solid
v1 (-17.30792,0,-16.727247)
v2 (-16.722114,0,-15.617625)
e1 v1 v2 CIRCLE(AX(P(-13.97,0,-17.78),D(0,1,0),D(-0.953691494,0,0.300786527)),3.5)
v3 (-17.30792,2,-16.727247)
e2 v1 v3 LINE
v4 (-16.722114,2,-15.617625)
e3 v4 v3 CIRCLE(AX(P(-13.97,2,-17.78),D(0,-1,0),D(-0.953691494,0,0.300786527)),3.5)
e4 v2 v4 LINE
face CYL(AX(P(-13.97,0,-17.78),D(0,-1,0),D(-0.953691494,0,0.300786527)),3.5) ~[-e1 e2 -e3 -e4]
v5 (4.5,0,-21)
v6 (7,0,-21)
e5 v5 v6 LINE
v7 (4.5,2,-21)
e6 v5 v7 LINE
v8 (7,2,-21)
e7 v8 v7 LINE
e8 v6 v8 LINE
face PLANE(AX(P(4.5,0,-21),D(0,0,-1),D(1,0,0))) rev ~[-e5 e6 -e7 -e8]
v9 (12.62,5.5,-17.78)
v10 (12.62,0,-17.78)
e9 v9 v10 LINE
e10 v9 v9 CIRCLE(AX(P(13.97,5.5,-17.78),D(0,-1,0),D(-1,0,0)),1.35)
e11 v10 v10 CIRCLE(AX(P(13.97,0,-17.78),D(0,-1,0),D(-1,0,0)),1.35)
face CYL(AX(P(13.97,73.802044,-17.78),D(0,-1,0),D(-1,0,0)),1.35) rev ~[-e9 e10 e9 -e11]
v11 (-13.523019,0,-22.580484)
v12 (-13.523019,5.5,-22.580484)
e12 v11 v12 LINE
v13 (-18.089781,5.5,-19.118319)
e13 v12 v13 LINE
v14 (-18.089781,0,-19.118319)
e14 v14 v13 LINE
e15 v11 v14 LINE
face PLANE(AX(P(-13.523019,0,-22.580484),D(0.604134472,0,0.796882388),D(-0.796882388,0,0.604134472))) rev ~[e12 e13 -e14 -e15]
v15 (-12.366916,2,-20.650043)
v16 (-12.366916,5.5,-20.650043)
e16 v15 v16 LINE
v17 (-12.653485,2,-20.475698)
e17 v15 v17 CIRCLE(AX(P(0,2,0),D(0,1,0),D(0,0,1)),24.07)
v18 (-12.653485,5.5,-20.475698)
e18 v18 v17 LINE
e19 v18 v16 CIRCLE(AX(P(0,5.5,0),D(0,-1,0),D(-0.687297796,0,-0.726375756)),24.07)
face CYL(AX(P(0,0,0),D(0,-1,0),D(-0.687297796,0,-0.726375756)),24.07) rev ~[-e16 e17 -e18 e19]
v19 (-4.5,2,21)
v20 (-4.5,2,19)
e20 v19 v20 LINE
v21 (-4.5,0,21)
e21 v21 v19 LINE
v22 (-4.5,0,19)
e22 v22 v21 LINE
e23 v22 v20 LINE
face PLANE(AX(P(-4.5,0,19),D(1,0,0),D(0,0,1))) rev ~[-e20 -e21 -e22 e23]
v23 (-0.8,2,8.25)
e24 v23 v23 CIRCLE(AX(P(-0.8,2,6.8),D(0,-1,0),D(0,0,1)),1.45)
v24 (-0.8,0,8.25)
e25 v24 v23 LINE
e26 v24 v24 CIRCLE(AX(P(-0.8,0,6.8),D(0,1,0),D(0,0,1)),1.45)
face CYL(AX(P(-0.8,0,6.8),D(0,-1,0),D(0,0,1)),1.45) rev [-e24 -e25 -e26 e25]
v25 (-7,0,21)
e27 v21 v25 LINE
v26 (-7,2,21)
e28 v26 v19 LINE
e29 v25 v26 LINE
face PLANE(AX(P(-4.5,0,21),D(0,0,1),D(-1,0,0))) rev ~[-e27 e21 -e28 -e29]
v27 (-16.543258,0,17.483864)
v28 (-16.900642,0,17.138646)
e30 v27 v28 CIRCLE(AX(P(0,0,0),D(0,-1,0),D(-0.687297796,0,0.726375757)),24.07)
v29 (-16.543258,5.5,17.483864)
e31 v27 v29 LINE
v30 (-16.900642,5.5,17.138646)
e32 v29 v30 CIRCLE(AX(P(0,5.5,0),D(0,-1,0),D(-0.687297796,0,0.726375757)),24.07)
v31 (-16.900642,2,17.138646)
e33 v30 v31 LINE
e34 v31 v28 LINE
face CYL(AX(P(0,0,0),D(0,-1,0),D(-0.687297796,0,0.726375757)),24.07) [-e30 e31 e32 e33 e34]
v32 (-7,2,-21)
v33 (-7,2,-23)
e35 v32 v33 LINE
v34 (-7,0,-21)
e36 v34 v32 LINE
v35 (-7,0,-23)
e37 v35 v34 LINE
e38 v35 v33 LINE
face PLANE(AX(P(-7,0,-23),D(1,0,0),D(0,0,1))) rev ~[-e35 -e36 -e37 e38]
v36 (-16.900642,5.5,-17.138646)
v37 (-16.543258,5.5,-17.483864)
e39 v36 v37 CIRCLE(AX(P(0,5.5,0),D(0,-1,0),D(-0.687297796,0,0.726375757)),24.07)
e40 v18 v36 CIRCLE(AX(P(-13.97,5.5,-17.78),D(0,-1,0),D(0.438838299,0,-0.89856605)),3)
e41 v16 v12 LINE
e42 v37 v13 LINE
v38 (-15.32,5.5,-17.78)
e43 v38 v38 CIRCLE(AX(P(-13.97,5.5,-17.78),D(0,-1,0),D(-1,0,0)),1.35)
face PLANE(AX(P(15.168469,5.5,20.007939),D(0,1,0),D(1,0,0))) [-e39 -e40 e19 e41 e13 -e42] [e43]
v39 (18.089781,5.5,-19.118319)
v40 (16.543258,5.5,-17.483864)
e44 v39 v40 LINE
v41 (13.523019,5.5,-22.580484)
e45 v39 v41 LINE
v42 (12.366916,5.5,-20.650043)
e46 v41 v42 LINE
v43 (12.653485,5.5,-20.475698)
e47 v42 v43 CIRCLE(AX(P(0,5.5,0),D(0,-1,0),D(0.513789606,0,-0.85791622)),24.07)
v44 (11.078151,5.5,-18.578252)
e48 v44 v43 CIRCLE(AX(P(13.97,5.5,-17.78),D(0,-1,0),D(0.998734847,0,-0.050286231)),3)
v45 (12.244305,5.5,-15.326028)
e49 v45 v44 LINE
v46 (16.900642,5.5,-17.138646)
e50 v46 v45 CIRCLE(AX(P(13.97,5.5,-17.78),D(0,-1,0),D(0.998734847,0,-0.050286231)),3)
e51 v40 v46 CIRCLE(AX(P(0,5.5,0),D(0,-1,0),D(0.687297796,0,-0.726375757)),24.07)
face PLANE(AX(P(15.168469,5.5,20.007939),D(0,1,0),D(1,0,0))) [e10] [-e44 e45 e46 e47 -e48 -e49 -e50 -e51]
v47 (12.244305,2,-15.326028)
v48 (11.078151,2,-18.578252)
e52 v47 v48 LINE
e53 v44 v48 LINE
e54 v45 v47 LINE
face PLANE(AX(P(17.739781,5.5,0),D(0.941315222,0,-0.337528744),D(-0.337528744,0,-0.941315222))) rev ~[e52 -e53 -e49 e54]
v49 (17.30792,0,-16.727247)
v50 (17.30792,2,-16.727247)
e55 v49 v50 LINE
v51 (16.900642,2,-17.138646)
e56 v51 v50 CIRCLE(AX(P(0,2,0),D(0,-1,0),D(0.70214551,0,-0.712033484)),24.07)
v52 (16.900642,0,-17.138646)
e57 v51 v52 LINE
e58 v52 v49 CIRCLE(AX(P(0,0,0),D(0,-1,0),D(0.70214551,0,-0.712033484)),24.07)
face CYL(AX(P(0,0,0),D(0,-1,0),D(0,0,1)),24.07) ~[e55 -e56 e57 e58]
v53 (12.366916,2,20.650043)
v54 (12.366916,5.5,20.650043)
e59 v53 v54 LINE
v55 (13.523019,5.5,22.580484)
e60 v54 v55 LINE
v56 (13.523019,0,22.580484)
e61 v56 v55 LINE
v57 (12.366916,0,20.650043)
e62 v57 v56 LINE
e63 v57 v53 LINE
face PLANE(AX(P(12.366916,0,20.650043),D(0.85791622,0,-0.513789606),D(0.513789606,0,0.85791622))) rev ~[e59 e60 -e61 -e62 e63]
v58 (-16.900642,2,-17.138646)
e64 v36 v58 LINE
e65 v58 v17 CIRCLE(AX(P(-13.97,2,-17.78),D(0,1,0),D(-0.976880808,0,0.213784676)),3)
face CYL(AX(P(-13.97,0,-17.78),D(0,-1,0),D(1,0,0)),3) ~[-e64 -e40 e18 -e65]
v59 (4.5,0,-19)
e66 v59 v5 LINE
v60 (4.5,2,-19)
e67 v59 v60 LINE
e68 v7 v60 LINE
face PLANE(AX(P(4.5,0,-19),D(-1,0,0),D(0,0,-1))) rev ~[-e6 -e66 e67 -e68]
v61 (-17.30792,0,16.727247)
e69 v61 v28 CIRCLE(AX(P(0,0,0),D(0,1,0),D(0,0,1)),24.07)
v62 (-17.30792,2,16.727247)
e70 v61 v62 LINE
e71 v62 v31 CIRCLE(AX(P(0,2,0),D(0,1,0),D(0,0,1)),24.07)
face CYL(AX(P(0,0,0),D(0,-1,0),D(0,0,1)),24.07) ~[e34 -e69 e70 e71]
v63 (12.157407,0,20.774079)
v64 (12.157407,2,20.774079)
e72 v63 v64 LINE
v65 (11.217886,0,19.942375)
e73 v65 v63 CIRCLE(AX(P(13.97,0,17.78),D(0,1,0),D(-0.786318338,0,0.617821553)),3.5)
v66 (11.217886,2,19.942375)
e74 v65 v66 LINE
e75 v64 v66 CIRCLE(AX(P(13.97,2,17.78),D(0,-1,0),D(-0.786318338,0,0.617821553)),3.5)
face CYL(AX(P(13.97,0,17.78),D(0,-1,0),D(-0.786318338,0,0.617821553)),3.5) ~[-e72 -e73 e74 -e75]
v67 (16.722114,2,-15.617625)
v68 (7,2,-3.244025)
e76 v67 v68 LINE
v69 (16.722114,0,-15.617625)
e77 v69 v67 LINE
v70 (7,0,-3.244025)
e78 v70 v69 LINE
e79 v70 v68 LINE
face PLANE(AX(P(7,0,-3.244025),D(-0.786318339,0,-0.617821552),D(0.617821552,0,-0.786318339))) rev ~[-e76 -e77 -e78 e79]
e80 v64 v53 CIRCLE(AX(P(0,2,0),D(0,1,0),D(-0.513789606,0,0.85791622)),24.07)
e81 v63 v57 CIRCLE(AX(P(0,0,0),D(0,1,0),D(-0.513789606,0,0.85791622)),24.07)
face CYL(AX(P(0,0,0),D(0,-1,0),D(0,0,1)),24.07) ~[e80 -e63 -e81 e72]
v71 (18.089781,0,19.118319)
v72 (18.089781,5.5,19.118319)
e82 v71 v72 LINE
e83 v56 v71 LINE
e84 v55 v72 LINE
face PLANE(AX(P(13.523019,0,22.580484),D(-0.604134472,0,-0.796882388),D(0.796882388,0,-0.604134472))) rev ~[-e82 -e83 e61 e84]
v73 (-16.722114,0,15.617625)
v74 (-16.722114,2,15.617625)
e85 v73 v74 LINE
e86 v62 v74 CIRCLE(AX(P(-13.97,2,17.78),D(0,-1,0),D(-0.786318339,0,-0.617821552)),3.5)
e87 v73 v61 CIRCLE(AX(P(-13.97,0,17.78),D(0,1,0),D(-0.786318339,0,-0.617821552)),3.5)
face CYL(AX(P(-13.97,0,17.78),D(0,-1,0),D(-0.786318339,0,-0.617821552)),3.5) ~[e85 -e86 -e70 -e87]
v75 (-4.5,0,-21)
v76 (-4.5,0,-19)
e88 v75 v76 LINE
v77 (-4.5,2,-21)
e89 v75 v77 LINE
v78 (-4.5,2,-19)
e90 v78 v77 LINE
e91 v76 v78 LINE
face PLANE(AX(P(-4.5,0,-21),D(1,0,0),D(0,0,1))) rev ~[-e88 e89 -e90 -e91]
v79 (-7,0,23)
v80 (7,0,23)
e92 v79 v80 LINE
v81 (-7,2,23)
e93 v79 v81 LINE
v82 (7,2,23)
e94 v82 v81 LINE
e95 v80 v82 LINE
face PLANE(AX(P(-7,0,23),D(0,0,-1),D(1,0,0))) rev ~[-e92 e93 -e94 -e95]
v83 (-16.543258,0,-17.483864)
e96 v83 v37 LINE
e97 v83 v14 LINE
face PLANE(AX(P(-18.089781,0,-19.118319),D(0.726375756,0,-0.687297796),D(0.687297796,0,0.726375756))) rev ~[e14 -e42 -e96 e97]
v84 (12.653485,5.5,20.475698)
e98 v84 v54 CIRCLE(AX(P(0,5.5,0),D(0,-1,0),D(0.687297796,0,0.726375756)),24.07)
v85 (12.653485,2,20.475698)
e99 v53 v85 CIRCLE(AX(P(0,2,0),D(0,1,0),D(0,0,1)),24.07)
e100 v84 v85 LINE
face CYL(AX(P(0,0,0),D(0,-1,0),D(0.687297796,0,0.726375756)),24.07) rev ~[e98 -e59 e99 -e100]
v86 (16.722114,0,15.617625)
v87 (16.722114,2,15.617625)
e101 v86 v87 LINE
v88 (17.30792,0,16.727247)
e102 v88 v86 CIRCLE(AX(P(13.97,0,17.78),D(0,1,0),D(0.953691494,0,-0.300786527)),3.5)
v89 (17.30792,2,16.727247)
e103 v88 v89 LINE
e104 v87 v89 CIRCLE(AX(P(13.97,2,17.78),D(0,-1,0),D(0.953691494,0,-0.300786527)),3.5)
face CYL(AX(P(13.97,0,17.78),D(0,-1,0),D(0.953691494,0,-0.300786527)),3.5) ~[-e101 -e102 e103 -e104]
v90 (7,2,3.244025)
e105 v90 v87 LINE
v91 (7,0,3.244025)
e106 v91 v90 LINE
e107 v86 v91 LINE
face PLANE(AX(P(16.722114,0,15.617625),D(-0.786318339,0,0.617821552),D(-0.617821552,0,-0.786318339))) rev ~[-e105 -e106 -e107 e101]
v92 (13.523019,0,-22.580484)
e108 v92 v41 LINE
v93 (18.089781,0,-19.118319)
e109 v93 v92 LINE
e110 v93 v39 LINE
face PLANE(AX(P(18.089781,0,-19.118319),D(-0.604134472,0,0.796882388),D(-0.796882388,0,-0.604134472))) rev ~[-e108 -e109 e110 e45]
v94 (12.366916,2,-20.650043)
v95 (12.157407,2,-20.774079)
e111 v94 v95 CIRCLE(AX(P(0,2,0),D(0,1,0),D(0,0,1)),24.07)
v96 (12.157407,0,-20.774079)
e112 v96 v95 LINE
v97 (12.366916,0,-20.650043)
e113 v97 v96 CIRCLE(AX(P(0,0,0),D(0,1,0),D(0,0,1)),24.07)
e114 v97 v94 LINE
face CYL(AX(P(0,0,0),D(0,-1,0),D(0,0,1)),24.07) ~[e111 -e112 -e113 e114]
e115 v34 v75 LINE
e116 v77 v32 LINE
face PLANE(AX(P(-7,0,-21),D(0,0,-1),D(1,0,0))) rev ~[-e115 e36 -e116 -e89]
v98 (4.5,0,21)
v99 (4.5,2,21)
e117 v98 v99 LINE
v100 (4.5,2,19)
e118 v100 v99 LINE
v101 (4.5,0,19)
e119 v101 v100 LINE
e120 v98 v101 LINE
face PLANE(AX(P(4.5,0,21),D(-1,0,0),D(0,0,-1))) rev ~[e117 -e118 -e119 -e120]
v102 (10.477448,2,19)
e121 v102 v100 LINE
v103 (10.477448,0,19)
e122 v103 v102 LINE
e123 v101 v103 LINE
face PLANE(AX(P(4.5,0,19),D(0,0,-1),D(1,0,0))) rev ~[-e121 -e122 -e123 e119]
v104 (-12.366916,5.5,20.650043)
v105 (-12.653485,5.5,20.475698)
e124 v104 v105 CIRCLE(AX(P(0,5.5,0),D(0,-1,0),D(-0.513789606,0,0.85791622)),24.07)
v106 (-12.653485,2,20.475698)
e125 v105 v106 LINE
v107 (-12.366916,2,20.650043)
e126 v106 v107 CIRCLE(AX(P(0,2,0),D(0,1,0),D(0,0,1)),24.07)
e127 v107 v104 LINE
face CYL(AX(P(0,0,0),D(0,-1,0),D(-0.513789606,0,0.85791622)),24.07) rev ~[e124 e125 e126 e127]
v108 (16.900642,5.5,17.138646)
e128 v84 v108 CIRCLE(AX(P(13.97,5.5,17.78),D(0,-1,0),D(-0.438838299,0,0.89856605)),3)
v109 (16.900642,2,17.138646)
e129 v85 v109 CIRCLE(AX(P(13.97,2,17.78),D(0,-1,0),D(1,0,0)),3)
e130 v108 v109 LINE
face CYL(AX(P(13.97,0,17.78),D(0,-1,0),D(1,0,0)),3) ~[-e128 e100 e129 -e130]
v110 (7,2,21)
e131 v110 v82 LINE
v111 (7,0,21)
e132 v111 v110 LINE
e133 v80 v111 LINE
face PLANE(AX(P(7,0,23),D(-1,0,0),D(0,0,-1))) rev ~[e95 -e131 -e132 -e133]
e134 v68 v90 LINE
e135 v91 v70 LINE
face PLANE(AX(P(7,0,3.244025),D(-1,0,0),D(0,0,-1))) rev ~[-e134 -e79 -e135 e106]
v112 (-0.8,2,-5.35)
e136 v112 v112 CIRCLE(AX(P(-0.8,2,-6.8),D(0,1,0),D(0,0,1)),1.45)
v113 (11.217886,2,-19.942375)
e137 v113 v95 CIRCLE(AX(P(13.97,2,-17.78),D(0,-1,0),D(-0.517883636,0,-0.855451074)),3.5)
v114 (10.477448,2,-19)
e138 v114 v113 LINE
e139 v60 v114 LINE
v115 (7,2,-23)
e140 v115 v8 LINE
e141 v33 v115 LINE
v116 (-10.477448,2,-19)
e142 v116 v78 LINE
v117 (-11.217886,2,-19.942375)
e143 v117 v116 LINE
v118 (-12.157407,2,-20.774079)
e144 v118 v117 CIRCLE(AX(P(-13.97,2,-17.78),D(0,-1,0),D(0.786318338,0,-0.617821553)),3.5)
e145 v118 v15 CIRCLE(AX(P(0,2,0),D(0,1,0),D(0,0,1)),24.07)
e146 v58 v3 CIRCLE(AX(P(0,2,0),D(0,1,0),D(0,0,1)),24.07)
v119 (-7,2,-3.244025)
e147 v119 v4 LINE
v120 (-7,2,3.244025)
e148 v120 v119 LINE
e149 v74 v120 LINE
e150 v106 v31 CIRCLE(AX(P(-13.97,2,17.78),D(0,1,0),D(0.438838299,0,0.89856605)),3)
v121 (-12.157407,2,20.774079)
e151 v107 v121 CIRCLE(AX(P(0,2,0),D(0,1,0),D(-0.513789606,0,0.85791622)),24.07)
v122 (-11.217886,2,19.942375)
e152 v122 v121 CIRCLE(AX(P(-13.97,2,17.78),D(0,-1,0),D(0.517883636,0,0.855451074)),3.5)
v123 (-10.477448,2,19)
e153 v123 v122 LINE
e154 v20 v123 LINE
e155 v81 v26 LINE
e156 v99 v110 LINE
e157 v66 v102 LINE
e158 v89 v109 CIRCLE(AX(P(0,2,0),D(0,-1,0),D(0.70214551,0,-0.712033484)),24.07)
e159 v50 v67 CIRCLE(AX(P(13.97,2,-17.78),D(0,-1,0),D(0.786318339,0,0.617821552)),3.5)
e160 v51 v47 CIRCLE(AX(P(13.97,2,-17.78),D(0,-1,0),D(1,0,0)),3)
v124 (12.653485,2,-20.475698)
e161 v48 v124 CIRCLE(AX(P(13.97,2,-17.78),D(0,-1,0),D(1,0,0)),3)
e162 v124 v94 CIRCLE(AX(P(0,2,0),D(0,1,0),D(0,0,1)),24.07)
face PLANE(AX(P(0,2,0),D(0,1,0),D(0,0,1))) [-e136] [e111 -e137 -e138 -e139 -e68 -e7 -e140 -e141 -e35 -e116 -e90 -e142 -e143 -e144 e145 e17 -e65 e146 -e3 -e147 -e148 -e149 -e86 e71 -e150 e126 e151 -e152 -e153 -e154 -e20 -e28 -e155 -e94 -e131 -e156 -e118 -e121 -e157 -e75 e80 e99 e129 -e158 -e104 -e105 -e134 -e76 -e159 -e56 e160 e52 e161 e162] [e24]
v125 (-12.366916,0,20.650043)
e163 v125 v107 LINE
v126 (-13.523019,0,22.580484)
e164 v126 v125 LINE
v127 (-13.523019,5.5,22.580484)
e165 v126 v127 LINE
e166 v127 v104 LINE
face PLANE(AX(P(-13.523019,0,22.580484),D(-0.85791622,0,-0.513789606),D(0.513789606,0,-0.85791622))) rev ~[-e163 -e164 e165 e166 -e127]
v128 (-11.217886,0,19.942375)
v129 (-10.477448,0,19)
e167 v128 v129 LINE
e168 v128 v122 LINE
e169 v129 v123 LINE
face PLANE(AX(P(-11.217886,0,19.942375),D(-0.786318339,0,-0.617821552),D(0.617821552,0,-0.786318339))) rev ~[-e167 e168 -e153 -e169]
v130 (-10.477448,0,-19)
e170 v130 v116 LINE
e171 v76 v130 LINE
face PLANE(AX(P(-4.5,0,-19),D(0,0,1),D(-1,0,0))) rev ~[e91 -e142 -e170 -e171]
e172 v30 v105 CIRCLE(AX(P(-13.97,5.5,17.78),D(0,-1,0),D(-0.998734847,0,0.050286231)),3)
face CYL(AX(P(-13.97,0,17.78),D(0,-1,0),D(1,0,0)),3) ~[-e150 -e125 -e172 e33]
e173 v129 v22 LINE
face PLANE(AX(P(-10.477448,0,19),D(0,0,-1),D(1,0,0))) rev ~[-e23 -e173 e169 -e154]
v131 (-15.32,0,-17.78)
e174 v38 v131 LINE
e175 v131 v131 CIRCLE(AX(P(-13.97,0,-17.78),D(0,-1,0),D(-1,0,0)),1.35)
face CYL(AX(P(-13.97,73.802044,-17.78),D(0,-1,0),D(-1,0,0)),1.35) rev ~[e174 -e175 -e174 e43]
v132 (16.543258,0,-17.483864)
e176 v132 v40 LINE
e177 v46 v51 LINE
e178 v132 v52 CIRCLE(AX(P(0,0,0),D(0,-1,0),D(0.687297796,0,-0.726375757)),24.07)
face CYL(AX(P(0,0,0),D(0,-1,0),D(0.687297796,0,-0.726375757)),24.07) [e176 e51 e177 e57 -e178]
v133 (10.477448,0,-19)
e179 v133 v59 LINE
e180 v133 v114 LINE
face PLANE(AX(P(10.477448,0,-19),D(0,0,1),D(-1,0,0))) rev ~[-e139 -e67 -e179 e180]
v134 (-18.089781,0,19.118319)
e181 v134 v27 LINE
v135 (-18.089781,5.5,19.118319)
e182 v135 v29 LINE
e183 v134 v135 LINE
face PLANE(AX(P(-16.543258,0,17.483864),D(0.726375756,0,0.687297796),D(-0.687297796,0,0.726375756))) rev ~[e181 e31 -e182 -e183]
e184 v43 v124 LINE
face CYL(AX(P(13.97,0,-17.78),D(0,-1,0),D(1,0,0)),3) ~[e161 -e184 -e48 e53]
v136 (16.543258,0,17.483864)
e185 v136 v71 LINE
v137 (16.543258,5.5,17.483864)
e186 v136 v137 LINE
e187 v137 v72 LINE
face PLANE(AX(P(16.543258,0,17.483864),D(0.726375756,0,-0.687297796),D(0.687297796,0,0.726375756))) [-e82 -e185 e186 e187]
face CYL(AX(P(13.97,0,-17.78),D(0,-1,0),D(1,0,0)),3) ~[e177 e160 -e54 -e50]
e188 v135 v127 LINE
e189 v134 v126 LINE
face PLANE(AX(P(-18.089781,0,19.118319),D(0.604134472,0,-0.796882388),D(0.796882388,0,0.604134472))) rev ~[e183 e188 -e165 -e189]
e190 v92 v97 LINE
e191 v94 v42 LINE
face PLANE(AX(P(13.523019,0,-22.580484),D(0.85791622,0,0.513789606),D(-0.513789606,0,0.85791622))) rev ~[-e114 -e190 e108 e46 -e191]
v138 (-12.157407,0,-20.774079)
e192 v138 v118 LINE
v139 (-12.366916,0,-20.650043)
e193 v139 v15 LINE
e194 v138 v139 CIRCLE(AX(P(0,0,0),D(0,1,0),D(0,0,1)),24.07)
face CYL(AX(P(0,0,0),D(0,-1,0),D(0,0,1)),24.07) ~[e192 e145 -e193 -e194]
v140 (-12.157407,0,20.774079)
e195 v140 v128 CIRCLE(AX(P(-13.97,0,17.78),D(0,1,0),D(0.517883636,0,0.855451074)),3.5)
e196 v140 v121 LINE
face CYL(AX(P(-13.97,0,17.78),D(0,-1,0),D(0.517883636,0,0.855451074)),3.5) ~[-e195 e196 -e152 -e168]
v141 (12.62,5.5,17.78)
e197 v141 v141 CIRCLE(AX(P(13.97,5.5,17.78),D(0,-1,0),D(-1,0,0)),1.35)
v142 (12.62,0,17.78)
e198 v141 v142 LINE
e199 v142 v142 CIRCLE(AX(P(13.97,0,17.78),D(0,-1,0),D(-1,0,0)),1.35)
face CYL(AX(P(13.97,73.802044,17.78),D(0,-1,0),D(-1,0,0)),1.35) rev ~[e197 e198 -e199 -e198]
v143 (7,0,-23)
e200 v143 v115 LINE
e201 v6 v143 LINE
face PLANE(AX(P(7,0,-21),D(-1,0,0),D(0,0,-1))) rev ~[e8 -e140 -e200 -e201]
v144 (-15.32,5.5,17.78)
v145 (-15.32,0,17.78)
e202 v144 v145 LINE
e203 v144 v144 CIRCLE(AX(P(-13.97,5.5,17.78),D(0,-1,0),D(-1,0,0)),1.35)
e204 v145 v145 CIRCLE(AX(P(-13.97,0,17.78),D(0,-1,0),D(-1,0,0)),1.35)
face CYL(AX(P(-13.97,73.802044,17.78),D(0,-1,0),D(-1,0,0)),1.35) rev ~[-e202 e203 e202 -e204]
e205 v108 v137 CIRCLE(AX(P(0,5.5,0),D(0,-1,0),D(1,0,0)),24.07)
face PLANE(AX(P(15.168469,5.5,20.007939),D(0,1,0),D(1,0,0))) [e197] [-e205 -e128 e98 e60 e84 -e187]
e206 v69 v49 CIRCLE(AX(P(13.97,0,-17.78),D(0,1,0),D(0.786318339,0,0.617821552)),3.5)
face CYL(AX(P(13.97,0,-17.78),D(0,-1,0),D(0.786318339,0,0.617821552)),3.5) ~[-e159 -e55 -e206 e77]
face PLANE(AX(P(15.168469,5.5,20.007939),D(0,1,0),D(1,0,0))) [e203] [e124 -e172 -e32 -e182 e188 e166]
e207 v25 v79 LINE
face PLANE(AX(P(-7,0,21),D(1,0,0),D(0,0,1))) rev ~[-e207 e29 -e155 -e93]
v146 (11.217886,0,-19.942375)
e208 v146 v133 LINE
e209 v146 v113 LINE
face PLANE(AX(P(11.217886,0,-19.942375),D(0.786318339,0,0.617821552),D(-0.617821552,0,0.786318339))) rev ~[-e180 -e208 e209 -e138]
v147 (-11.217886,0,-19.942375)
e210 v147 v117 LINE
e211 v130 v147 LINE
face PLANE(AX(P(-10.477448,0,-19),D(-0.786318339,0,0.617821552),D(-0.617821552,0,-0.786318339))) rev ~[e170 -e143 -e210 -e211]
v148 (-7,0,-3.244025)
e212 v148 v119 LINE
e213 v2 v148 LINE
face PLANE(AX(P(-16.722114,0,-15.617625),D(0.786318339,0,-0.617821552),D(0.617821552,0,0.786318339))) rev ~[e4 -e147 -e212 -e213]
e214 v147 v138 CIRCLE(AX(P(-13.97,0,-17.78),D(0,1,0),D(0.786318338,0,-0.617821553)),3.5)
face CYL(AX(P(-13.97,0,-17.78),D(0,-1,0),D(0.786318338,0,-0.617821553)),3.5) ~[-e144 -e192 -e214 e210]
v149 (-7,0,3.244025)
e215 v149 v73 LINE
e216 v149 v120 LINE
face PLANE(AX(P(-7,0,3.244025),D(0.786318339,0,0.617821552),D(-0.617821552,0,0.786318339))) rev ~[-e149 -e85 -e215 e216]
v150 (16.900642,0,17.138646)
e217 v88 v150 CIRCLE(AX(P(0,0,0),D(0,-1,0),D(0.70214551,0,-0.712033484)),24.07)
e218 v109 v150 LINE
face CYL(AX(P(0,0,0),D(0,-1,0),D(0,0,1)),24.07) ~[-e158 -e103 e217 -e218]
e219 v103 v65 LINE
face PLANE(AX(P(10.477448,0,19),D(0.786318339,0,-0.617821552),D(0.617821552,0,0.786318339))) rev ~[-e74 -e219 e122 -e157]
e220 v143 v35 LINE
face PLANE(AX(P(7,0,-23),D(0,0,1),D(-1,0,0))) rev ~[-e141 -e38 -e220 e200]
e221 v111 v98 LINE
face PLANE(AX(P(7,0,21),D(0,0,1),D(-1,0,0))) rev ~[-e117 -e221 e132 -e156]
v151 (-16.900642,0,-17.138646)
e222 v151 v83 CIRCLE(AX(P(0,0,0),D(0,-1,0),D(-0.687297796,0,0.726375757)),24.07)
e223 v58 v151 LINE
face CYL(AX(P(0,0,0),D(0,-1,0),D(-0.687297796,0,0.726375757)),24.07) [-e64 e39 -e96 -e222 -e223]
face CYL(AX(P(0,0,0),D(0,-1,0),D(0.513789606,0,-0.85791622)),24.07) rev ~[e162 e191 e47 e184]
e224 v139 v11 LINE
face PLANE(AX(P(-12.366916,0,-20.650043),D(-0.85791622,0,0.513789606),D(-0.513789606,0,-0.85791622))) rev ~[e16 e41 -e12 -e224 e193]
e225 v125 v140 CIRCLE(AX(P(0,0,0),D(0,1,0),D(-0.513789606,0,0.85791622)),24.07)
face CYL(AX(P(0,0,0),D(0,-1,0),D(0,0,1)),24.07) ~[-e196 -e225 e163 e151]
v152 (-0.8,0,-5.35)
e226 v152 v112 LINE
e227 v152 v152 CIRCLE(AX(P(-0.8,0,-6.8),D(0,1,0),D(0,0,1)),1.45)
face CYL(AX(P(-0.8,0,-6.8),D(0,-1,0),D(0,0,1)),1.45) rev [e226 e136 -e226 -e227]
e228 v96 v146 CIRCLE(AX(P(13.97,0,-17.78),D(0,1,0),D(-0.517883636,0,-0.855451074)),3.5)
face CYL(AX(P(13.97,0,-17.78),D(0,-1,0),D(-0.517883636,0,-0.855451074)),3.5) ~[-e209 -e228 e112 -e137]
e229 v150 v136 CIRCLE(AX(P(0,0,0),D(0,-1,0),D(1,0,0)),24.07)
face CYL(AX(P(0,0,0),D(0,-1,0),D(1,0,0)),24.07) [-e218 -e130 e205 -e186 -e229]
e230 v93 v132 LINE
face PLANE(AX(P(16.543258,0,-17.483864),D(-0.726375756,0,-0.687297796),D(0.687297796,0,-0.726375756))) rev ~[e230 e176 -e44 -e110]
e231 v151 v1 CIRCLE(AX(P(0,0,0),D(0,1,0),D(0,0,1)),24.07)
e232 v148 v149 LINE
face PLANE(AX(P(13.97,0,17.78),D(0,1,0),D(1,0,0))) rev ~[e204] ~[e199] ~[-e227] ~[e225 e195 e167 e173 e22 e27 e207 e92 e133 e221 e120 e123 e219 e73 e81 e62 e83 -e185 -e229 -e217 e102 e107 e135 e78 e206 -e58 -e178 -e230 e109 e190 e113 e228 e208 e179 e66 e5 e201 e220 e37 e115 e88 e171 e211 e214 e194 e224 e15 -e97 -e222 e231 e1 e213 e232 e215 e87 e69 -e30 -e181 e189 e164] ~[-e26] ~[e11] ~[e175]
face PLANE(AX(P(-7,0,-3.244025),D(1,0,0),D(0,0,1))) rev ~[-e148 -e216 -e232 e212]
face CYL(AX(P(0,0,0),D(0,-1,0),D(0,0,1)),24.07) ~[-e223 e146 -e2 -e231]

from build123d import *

# Parameters (mm, degrees)
SKETCH1_R               = 24.07
BOSS_EXTRUDE1_DEPTH     = 2
BOSS_EXTRUDE2_DEPTH     = 5.5
BOSS_EXTRUDE5_REACH     = 36.482
SKETCH2_R               = 3
SKETCH1_5_R             = 34.31362745
CUT_EXTRUDE3_DEPTH      = 35.48158639
CUT_EXTRUDE3_DEPTH_BACK = 35.48158639
M2_5_CLEARANCE_HOLE1_D  = 2.7
CUT_EXTRUDE4_DEPTH      = 35.48158639
SKETCH10_R              = 1.45
CUT_EXTRUDE6_DEPTH      = 30.773984948
CUT_EXTRUDE7_DEPTH      = 3.5


with BuildPart() as part:
    # Sketch1 → Boss-Extrude1 (new body)
    with BuildSketch(Plane(origin=(0, 0, 0), x_dir=(1, 0, 0), z_dir=(0, 1, 0))):
        with Locations(Location((0, 0, 0), (0, 0, 270))):
            Circle(SKETCH1_R)
    extrude(amount=BOSS_EXTRUDE1_DEPTH)

    # Sketch1<3> → Boss-Extrude2 (add)
    with BuildSketch(Plane(origin=(0, 0, 0), x_dir=(1, 0, 0), z_dir=(0, 1, 0))):
        with BuildLine():
            ThreePointArc((12.366915807, 20.650043424), (14.541516735, 19.180959075), (16.543257949, 17.483864459))
            Line((16.543257949, 17.483864459), (18.089781085, 19.118318867))
            Line((18.089781085, 19.118318867), (13.523019488, 22.580483607))
            Line((13.523019488, 22.580483607), (12.366915807, 20.650043424))
        make_face()
        with BuildLine():
            ThreePointArc((16.543257949, -17.483864459), (14.541516735, -19.180959075), (12.366915807, -20.650043424))
            Line((12.366915807, -20.650043424), (13.523019488, -22.580483607))
            Line((13.523019488, -22.580483607), (18.089781085, -19.118318867))
            Line((18.089781085, -19.118318867), (16.543257949, -17.483864459))
        make_face()
        with BuildLine():
            ThreePointArc((-16.543257949, 17.483864459), (-14.541516735, 19.180959075), (-12.366915807, 20.650043424))
            Line((-12.366915807, 20.650043424), (-13.523019488, 22.580483607))
            Line((-13.523019488, 22.580483607), (-18.089781085, 19.118318867))
            Line((-18.089781085, 19.118318867), (-16.543257949, 17.483864459))
        make_face()
        with BuildLine():
            ThreePointArc((-12.366915807, -20.650043424), (-14.541516735, -19.180959075), (-16.543257949, -17.483864459))
            Line((-16.543257949, -17.483864459), (-18.089781085, -19.118318867))
            Line((-18.089781085, -19.118318867), (-13.523019488, -22.580483607))
            Line((-13.523019488, -22.580483607), (-12.366915807, -20.650043424))
        make_face()
    extrude(amount=BOSS_EXTRUDE2_DEPTH)

    # Boss-Extrude5: up to this face of the body (flat: up to its plane)
    boss_extrude5_end = Plane(part.part.faces().sort_by_distance((15.168468653, 5.5, 20.00793877))[0])
    # Sketch2 → Boss-Extrude5 (add, up to the picked face)
    with BuildSketch(Plane(origin=(0, 0, 0), x_dir=(1, 0, 0), z_dir=(0, 1, 0)), mode=Mode.PRIVATE) as boss_extrude5_sk1:
        with Locations((13.97, 17.78)):
            Circle(SKETCH2_R)
    boss_extrude5_tool1 = split(extrude(boss_extrude5_sk1.sketch, amount=BOSS_EXTRUDE5_REACH, mode=Mode.PRIVATE), bisect_by=boss_extrude5_end, keep=Keep.BOTH, mode=Mode.PRIVATE)
    # Sketch2 → Boss-Extrude5 (add, up to the picked face)
    with BuildSketch(Plane(origin=(0, 0, 0), x_dir=(1, 0, 0), z_dir=(0, 1, 0)), mode=Mode.PRIVATE) as boss_extrude5_sk2:
        with Locations((13.97, -17.78)):
            Circle(SKETCH2_R)
    boss_extrude5_tool2 = split(extrude(boss_extrude5_sk2.sketch, amount=BOSS_EXTRUDE5_REACH, mode=Mode.PRIVATE), bisect_by=boss_extrude5_end, keep=Keep.BOTH, mode=Mode.PRIVATE)
    # Sketch2 → Boss-Extrude5 (add, up to the picked face)
    with BuildSketch(Plane(origin=(0, 0, 0), x_dir=(1, 0, 0), z_dir=(0, 1, 0)), mode=Mode.PRIVATE) as boss_extrude5_sk3:
        with Locations((-13.97, -17.78)):
            Circle(SKETCH2_R)
    boss_extrude5_tool3 = split(extrude(boss_extrude5_sk3.sketch, amount=BOSS_EXTRUDE5_REACH, mode=Mode.PRIVATE), bisect_by=boss_extrude5_end, keep=Keep.BOTH, mode=Mode.PRIVATE)
    # Sketch2 → Boss-Extrude5 (add, up to the picked face)
    with BuildSketch(Plane(origin=(0, 0, 0), x_dir=(1, 0, 0), z_dir=(0, 1, 0)), mode=Mode.PRIVATE) as boss_extrude5_sk4:
        with Locations((-13.97, 17.78)):
            Circle(SKETCH2_R)
    boss_extrude5_tool4 = split(extrude(boss_extrude5_sk4.sketch, amount=BOSS_EXTRUDE5_REACH, mode=Mode.PRIVATE), bisect_by=boss_extrude5_end, keep=Keep.BOTH, mode=Mode.PRIVATE)
    add(boss_extrude5_tool1.solids().sort_by(Axis((13.97, 0, -17.78), (0, 1, 0)))[0])
    add(boss_extrude5_tool2.solids().sort_by(Axis((13.97, 0, 17.78), (0, 1, 0)))[0])
    add(boss_extrude5_tool3.solids().sort_by(Axis((-13.97, 0, 17.78), (0, 1, 0)))[0])
    add(boss_extrude5_tool4.solids().sort_by(Axis((-13.97, 0, -17.78), (0, 1, 0)))[0])

    # Sketch1<5> → Cut-Extrude3 (cut, two sides)
    with BuildSketch(Plane(origin=(0, 0, 0), x_dir=(1, 0, 0), z_dir=(0, 1, 0))) as cut_extrude3_sk:
        Circle(SKETCH1_5_R)
        with BuildLine():
            Line((18.089781085, 19.118318867), (16.543257949, 17.483864459))
            ThreePointArc((16.543257949, 17.483864459), (22.108382108, 9.517580605), (24.07, 0))
            ThreePointArc((24.07, 0), (22.108382108, -9.517580605), (16.543257949, -17.483864459))
            Line((16.543257949, -17.483864459), (18.089781085, -19.118318867))
            Line((18.089781085, -19.118318867), (13.523019488, -22.580483607))
            Line((13.523019488, -22.580483607), (12.366915807, -20.650043424))
            ThreePointArc((12.366915807, -20.650043424), (0, -24.07), (-12.366915807, -20.650043424))
            Line((-12.366915807, -20.650043424), (-13.523019488, -22.580483607))
            Line((-13.523019488, -22.580483607), (-18.089781085, -19.118318867))
            Line((-18.089781085, -19.118318867), (-16.543257949, -17.483864459))
            ThreePointArc((-16.543257949, -17.483864459), (-24.07, 0), (-16.543257949, 17.483864459))
            Line((-16.543257949, 17.483864459), (-18.089781085, 19.118318867))
            Line((-18.089781085, 19.118318867), (-13.523019488, 22.580483607))
            Line((-13.523019488, 22.580483607), (-12.366915807, 20.650043424))
            ThreePointArc((-12.366915807, 20.650043424), (0, 24.07), (12.366915807, 20.650043424))
            Line((12.366915807, 20.650043424), (13.523019488, 22.580483607))
            Line((13.523019488, 22.580483607), (18.089781085, 19.118318867))
        make_face(mode=Mode.SUBTRACT)
    extrude(amount=CUT_EXTRUDE3_DEPTH, mode=Mode.SUBTRACT)
    extrude(cut_extrude3_sk.sketch, amount=-CUT_EXTRUDE3_DEPTH_BACK, mode=Mode.SUBTRACT)

    # M2.5 Clearance Hole1 (through all)
    with Locations(Plane(origin=(0, 5.5, 0), x_dir=(1, 0, 0), z_dir=(0, 1, 0))):
        with Locations((-13.97, 17.78), (13.97, 17.78), (13.97, -17.78), (-13.97, -17.78)):
            Hole(M2_5_CLEARANCE_HOLE1_D / 2)

    # Sketch8 → Cut-Extrude4 (cut, through all)
    with BuildSketch(Plane.XZ):
        with BuildLine():
            ThreePointArc((-12.157407277, 20.77407876), (-11.650071144, 20.400673597), (-11.217885814, 19.942375432))
            Line((-11.217885814, 19.942375432), (-10.477447975, 19))
            Line((-10.477447975, 19), (-4.5, 19))
            Line((-4.5, 19), (-4.5, 21))
            Line((-4.5, 21), (-7, 21))
            Line((-7, 21), (-7, 23))
            Line((-7, 23), (7, 23))
            Line((7, 23), (7, 21))
            Line((7, 21), (4.5, 21))
            Line((4.5, 21), (4.5, 19))
            Line((4.5, 19), (10.477447975, 19))
            Line((10.477447975, 19), (11.217885814, 19.942375432))
            ThreePointArc((11.217885814, 19.942375432), (11.650071144, 20.400673597), (12.157407277, 20.77407876))
            ThreePointArc((12.157407277, 20.77407876), (0, 24.07), (-12.157407277, 20.77407876))
        make_face()
        with BuildLine():
            Line((7, 3.244024695), (7, -3.244024695))
            Line((7, -3.244024695), (16.722114186, -15.617624568))
            ThreePointArc((16.722114186, -15.617624568), (17.065148682, -16.145969817), (17.307920228, -16.727247155))
            ThreePointArc((17.307920228, -16.727247155), (24.07, 0), (17.307920228, 16.727247155))
            ThreePointArc((17.307920228, 16.727247155), (17.065148682, 16.145969817), (16.722114186, 15.617624568))
            Line((16.722114186, 15.617624568), (7, 3.244024695))
        make_face()
        with BuildLine():
            Line((-7, -3.244024695), (-7, 3.244024695))
            Line((-7, 3.244024695), (-16.722114186, 15.617624568))
            ThreePointArc((-16.722114186, 15.617624568), (-17.065148682, 16.145969817), (-17.307920228, 16.727247155))
            ThreePointArc((-17.307920228, 16.727247155), (-24.07, 0), (-17.307920228, -16.727247155))
            ThreePointArc((-17.307920228, -16.727247155), (-17.065148682, -16.145969817), (-16.722114186, -15.617624568))
            Line((-16.722114186, -15.617624568), (-7, -3.244024695))
        make_face()
        with BuildLine():
            Line((11.217885814, -19.942375432), (10.477447975, -19))
            Line((10.477447975, -19), (4.5, -19))
            Line((4.5, -19), (4.5, -21))
            Line((4.5, -21), (7, -21))
            Line((7, -21), (7, -23))
            Line((7, -23), (-7, -23))
            Line((-7, -23), (-7, -21))
            Line((-7, -21), (-4.5, -21))
            Line((-4.5, -21), (-4.5, -19))
            Line((-4.5, -19), (-10.477447975, -19))
            Line((-10.477447975, -19), (-11.217885814, -19.942375432))
            ThreePointArc((-11.217885814, -19.942375432), (-11.650071144, -20.400673597), (-12.157407277, -20.77407876))
            ThreePointArc((-12.157407277, -20.77407876), (0, -24.07), (12.157407277, -20.77407876))
            ThreePointArc((12.157407277, -20.77407876), (11.650071144, -20.400673597), (11.217885814, -19.942375432))
        make_face()
    extrude(amount=-CUT_EXTRUDE4_DEPTH, mode=Mode.SUBTRACT)

    # Sketch10 → Cut-Extrude6 (cut, through all)
    with BuildSketch(Plane(origin=(0, 0, 0), x_dir=(1, 0, 0), z_dir=(0, 1, 0))):
        with Locations(Location((-0.8, -6.8, 0), (0, 0, 270))):
            Circle(SKETCH10_R)
        with Locations(Location((-0.8, 6.8, 0), (0, 0, 270))):
            Circle(SKETCH10_R)
    extrude(amount=CUT_EXTRUDE6_DEPTH, mode=Mode.SUBTRACT)

    # Sketch11 → Cut-Extrude7 (cut)
    with BuildSketch(Plane(origin=(0, 5.5, 0), x_dir=(1, 0, 0), z_dir=(0, 1, 0))):
        Polygon((0, 0), (17.739781085, 0), (10.209781085, 21), (0, 21), align=None)
    extrude(amount=-CUT_EXTRUDE7_DEPTH, mode=Mode.SUBTRACT)


solid = part.part
